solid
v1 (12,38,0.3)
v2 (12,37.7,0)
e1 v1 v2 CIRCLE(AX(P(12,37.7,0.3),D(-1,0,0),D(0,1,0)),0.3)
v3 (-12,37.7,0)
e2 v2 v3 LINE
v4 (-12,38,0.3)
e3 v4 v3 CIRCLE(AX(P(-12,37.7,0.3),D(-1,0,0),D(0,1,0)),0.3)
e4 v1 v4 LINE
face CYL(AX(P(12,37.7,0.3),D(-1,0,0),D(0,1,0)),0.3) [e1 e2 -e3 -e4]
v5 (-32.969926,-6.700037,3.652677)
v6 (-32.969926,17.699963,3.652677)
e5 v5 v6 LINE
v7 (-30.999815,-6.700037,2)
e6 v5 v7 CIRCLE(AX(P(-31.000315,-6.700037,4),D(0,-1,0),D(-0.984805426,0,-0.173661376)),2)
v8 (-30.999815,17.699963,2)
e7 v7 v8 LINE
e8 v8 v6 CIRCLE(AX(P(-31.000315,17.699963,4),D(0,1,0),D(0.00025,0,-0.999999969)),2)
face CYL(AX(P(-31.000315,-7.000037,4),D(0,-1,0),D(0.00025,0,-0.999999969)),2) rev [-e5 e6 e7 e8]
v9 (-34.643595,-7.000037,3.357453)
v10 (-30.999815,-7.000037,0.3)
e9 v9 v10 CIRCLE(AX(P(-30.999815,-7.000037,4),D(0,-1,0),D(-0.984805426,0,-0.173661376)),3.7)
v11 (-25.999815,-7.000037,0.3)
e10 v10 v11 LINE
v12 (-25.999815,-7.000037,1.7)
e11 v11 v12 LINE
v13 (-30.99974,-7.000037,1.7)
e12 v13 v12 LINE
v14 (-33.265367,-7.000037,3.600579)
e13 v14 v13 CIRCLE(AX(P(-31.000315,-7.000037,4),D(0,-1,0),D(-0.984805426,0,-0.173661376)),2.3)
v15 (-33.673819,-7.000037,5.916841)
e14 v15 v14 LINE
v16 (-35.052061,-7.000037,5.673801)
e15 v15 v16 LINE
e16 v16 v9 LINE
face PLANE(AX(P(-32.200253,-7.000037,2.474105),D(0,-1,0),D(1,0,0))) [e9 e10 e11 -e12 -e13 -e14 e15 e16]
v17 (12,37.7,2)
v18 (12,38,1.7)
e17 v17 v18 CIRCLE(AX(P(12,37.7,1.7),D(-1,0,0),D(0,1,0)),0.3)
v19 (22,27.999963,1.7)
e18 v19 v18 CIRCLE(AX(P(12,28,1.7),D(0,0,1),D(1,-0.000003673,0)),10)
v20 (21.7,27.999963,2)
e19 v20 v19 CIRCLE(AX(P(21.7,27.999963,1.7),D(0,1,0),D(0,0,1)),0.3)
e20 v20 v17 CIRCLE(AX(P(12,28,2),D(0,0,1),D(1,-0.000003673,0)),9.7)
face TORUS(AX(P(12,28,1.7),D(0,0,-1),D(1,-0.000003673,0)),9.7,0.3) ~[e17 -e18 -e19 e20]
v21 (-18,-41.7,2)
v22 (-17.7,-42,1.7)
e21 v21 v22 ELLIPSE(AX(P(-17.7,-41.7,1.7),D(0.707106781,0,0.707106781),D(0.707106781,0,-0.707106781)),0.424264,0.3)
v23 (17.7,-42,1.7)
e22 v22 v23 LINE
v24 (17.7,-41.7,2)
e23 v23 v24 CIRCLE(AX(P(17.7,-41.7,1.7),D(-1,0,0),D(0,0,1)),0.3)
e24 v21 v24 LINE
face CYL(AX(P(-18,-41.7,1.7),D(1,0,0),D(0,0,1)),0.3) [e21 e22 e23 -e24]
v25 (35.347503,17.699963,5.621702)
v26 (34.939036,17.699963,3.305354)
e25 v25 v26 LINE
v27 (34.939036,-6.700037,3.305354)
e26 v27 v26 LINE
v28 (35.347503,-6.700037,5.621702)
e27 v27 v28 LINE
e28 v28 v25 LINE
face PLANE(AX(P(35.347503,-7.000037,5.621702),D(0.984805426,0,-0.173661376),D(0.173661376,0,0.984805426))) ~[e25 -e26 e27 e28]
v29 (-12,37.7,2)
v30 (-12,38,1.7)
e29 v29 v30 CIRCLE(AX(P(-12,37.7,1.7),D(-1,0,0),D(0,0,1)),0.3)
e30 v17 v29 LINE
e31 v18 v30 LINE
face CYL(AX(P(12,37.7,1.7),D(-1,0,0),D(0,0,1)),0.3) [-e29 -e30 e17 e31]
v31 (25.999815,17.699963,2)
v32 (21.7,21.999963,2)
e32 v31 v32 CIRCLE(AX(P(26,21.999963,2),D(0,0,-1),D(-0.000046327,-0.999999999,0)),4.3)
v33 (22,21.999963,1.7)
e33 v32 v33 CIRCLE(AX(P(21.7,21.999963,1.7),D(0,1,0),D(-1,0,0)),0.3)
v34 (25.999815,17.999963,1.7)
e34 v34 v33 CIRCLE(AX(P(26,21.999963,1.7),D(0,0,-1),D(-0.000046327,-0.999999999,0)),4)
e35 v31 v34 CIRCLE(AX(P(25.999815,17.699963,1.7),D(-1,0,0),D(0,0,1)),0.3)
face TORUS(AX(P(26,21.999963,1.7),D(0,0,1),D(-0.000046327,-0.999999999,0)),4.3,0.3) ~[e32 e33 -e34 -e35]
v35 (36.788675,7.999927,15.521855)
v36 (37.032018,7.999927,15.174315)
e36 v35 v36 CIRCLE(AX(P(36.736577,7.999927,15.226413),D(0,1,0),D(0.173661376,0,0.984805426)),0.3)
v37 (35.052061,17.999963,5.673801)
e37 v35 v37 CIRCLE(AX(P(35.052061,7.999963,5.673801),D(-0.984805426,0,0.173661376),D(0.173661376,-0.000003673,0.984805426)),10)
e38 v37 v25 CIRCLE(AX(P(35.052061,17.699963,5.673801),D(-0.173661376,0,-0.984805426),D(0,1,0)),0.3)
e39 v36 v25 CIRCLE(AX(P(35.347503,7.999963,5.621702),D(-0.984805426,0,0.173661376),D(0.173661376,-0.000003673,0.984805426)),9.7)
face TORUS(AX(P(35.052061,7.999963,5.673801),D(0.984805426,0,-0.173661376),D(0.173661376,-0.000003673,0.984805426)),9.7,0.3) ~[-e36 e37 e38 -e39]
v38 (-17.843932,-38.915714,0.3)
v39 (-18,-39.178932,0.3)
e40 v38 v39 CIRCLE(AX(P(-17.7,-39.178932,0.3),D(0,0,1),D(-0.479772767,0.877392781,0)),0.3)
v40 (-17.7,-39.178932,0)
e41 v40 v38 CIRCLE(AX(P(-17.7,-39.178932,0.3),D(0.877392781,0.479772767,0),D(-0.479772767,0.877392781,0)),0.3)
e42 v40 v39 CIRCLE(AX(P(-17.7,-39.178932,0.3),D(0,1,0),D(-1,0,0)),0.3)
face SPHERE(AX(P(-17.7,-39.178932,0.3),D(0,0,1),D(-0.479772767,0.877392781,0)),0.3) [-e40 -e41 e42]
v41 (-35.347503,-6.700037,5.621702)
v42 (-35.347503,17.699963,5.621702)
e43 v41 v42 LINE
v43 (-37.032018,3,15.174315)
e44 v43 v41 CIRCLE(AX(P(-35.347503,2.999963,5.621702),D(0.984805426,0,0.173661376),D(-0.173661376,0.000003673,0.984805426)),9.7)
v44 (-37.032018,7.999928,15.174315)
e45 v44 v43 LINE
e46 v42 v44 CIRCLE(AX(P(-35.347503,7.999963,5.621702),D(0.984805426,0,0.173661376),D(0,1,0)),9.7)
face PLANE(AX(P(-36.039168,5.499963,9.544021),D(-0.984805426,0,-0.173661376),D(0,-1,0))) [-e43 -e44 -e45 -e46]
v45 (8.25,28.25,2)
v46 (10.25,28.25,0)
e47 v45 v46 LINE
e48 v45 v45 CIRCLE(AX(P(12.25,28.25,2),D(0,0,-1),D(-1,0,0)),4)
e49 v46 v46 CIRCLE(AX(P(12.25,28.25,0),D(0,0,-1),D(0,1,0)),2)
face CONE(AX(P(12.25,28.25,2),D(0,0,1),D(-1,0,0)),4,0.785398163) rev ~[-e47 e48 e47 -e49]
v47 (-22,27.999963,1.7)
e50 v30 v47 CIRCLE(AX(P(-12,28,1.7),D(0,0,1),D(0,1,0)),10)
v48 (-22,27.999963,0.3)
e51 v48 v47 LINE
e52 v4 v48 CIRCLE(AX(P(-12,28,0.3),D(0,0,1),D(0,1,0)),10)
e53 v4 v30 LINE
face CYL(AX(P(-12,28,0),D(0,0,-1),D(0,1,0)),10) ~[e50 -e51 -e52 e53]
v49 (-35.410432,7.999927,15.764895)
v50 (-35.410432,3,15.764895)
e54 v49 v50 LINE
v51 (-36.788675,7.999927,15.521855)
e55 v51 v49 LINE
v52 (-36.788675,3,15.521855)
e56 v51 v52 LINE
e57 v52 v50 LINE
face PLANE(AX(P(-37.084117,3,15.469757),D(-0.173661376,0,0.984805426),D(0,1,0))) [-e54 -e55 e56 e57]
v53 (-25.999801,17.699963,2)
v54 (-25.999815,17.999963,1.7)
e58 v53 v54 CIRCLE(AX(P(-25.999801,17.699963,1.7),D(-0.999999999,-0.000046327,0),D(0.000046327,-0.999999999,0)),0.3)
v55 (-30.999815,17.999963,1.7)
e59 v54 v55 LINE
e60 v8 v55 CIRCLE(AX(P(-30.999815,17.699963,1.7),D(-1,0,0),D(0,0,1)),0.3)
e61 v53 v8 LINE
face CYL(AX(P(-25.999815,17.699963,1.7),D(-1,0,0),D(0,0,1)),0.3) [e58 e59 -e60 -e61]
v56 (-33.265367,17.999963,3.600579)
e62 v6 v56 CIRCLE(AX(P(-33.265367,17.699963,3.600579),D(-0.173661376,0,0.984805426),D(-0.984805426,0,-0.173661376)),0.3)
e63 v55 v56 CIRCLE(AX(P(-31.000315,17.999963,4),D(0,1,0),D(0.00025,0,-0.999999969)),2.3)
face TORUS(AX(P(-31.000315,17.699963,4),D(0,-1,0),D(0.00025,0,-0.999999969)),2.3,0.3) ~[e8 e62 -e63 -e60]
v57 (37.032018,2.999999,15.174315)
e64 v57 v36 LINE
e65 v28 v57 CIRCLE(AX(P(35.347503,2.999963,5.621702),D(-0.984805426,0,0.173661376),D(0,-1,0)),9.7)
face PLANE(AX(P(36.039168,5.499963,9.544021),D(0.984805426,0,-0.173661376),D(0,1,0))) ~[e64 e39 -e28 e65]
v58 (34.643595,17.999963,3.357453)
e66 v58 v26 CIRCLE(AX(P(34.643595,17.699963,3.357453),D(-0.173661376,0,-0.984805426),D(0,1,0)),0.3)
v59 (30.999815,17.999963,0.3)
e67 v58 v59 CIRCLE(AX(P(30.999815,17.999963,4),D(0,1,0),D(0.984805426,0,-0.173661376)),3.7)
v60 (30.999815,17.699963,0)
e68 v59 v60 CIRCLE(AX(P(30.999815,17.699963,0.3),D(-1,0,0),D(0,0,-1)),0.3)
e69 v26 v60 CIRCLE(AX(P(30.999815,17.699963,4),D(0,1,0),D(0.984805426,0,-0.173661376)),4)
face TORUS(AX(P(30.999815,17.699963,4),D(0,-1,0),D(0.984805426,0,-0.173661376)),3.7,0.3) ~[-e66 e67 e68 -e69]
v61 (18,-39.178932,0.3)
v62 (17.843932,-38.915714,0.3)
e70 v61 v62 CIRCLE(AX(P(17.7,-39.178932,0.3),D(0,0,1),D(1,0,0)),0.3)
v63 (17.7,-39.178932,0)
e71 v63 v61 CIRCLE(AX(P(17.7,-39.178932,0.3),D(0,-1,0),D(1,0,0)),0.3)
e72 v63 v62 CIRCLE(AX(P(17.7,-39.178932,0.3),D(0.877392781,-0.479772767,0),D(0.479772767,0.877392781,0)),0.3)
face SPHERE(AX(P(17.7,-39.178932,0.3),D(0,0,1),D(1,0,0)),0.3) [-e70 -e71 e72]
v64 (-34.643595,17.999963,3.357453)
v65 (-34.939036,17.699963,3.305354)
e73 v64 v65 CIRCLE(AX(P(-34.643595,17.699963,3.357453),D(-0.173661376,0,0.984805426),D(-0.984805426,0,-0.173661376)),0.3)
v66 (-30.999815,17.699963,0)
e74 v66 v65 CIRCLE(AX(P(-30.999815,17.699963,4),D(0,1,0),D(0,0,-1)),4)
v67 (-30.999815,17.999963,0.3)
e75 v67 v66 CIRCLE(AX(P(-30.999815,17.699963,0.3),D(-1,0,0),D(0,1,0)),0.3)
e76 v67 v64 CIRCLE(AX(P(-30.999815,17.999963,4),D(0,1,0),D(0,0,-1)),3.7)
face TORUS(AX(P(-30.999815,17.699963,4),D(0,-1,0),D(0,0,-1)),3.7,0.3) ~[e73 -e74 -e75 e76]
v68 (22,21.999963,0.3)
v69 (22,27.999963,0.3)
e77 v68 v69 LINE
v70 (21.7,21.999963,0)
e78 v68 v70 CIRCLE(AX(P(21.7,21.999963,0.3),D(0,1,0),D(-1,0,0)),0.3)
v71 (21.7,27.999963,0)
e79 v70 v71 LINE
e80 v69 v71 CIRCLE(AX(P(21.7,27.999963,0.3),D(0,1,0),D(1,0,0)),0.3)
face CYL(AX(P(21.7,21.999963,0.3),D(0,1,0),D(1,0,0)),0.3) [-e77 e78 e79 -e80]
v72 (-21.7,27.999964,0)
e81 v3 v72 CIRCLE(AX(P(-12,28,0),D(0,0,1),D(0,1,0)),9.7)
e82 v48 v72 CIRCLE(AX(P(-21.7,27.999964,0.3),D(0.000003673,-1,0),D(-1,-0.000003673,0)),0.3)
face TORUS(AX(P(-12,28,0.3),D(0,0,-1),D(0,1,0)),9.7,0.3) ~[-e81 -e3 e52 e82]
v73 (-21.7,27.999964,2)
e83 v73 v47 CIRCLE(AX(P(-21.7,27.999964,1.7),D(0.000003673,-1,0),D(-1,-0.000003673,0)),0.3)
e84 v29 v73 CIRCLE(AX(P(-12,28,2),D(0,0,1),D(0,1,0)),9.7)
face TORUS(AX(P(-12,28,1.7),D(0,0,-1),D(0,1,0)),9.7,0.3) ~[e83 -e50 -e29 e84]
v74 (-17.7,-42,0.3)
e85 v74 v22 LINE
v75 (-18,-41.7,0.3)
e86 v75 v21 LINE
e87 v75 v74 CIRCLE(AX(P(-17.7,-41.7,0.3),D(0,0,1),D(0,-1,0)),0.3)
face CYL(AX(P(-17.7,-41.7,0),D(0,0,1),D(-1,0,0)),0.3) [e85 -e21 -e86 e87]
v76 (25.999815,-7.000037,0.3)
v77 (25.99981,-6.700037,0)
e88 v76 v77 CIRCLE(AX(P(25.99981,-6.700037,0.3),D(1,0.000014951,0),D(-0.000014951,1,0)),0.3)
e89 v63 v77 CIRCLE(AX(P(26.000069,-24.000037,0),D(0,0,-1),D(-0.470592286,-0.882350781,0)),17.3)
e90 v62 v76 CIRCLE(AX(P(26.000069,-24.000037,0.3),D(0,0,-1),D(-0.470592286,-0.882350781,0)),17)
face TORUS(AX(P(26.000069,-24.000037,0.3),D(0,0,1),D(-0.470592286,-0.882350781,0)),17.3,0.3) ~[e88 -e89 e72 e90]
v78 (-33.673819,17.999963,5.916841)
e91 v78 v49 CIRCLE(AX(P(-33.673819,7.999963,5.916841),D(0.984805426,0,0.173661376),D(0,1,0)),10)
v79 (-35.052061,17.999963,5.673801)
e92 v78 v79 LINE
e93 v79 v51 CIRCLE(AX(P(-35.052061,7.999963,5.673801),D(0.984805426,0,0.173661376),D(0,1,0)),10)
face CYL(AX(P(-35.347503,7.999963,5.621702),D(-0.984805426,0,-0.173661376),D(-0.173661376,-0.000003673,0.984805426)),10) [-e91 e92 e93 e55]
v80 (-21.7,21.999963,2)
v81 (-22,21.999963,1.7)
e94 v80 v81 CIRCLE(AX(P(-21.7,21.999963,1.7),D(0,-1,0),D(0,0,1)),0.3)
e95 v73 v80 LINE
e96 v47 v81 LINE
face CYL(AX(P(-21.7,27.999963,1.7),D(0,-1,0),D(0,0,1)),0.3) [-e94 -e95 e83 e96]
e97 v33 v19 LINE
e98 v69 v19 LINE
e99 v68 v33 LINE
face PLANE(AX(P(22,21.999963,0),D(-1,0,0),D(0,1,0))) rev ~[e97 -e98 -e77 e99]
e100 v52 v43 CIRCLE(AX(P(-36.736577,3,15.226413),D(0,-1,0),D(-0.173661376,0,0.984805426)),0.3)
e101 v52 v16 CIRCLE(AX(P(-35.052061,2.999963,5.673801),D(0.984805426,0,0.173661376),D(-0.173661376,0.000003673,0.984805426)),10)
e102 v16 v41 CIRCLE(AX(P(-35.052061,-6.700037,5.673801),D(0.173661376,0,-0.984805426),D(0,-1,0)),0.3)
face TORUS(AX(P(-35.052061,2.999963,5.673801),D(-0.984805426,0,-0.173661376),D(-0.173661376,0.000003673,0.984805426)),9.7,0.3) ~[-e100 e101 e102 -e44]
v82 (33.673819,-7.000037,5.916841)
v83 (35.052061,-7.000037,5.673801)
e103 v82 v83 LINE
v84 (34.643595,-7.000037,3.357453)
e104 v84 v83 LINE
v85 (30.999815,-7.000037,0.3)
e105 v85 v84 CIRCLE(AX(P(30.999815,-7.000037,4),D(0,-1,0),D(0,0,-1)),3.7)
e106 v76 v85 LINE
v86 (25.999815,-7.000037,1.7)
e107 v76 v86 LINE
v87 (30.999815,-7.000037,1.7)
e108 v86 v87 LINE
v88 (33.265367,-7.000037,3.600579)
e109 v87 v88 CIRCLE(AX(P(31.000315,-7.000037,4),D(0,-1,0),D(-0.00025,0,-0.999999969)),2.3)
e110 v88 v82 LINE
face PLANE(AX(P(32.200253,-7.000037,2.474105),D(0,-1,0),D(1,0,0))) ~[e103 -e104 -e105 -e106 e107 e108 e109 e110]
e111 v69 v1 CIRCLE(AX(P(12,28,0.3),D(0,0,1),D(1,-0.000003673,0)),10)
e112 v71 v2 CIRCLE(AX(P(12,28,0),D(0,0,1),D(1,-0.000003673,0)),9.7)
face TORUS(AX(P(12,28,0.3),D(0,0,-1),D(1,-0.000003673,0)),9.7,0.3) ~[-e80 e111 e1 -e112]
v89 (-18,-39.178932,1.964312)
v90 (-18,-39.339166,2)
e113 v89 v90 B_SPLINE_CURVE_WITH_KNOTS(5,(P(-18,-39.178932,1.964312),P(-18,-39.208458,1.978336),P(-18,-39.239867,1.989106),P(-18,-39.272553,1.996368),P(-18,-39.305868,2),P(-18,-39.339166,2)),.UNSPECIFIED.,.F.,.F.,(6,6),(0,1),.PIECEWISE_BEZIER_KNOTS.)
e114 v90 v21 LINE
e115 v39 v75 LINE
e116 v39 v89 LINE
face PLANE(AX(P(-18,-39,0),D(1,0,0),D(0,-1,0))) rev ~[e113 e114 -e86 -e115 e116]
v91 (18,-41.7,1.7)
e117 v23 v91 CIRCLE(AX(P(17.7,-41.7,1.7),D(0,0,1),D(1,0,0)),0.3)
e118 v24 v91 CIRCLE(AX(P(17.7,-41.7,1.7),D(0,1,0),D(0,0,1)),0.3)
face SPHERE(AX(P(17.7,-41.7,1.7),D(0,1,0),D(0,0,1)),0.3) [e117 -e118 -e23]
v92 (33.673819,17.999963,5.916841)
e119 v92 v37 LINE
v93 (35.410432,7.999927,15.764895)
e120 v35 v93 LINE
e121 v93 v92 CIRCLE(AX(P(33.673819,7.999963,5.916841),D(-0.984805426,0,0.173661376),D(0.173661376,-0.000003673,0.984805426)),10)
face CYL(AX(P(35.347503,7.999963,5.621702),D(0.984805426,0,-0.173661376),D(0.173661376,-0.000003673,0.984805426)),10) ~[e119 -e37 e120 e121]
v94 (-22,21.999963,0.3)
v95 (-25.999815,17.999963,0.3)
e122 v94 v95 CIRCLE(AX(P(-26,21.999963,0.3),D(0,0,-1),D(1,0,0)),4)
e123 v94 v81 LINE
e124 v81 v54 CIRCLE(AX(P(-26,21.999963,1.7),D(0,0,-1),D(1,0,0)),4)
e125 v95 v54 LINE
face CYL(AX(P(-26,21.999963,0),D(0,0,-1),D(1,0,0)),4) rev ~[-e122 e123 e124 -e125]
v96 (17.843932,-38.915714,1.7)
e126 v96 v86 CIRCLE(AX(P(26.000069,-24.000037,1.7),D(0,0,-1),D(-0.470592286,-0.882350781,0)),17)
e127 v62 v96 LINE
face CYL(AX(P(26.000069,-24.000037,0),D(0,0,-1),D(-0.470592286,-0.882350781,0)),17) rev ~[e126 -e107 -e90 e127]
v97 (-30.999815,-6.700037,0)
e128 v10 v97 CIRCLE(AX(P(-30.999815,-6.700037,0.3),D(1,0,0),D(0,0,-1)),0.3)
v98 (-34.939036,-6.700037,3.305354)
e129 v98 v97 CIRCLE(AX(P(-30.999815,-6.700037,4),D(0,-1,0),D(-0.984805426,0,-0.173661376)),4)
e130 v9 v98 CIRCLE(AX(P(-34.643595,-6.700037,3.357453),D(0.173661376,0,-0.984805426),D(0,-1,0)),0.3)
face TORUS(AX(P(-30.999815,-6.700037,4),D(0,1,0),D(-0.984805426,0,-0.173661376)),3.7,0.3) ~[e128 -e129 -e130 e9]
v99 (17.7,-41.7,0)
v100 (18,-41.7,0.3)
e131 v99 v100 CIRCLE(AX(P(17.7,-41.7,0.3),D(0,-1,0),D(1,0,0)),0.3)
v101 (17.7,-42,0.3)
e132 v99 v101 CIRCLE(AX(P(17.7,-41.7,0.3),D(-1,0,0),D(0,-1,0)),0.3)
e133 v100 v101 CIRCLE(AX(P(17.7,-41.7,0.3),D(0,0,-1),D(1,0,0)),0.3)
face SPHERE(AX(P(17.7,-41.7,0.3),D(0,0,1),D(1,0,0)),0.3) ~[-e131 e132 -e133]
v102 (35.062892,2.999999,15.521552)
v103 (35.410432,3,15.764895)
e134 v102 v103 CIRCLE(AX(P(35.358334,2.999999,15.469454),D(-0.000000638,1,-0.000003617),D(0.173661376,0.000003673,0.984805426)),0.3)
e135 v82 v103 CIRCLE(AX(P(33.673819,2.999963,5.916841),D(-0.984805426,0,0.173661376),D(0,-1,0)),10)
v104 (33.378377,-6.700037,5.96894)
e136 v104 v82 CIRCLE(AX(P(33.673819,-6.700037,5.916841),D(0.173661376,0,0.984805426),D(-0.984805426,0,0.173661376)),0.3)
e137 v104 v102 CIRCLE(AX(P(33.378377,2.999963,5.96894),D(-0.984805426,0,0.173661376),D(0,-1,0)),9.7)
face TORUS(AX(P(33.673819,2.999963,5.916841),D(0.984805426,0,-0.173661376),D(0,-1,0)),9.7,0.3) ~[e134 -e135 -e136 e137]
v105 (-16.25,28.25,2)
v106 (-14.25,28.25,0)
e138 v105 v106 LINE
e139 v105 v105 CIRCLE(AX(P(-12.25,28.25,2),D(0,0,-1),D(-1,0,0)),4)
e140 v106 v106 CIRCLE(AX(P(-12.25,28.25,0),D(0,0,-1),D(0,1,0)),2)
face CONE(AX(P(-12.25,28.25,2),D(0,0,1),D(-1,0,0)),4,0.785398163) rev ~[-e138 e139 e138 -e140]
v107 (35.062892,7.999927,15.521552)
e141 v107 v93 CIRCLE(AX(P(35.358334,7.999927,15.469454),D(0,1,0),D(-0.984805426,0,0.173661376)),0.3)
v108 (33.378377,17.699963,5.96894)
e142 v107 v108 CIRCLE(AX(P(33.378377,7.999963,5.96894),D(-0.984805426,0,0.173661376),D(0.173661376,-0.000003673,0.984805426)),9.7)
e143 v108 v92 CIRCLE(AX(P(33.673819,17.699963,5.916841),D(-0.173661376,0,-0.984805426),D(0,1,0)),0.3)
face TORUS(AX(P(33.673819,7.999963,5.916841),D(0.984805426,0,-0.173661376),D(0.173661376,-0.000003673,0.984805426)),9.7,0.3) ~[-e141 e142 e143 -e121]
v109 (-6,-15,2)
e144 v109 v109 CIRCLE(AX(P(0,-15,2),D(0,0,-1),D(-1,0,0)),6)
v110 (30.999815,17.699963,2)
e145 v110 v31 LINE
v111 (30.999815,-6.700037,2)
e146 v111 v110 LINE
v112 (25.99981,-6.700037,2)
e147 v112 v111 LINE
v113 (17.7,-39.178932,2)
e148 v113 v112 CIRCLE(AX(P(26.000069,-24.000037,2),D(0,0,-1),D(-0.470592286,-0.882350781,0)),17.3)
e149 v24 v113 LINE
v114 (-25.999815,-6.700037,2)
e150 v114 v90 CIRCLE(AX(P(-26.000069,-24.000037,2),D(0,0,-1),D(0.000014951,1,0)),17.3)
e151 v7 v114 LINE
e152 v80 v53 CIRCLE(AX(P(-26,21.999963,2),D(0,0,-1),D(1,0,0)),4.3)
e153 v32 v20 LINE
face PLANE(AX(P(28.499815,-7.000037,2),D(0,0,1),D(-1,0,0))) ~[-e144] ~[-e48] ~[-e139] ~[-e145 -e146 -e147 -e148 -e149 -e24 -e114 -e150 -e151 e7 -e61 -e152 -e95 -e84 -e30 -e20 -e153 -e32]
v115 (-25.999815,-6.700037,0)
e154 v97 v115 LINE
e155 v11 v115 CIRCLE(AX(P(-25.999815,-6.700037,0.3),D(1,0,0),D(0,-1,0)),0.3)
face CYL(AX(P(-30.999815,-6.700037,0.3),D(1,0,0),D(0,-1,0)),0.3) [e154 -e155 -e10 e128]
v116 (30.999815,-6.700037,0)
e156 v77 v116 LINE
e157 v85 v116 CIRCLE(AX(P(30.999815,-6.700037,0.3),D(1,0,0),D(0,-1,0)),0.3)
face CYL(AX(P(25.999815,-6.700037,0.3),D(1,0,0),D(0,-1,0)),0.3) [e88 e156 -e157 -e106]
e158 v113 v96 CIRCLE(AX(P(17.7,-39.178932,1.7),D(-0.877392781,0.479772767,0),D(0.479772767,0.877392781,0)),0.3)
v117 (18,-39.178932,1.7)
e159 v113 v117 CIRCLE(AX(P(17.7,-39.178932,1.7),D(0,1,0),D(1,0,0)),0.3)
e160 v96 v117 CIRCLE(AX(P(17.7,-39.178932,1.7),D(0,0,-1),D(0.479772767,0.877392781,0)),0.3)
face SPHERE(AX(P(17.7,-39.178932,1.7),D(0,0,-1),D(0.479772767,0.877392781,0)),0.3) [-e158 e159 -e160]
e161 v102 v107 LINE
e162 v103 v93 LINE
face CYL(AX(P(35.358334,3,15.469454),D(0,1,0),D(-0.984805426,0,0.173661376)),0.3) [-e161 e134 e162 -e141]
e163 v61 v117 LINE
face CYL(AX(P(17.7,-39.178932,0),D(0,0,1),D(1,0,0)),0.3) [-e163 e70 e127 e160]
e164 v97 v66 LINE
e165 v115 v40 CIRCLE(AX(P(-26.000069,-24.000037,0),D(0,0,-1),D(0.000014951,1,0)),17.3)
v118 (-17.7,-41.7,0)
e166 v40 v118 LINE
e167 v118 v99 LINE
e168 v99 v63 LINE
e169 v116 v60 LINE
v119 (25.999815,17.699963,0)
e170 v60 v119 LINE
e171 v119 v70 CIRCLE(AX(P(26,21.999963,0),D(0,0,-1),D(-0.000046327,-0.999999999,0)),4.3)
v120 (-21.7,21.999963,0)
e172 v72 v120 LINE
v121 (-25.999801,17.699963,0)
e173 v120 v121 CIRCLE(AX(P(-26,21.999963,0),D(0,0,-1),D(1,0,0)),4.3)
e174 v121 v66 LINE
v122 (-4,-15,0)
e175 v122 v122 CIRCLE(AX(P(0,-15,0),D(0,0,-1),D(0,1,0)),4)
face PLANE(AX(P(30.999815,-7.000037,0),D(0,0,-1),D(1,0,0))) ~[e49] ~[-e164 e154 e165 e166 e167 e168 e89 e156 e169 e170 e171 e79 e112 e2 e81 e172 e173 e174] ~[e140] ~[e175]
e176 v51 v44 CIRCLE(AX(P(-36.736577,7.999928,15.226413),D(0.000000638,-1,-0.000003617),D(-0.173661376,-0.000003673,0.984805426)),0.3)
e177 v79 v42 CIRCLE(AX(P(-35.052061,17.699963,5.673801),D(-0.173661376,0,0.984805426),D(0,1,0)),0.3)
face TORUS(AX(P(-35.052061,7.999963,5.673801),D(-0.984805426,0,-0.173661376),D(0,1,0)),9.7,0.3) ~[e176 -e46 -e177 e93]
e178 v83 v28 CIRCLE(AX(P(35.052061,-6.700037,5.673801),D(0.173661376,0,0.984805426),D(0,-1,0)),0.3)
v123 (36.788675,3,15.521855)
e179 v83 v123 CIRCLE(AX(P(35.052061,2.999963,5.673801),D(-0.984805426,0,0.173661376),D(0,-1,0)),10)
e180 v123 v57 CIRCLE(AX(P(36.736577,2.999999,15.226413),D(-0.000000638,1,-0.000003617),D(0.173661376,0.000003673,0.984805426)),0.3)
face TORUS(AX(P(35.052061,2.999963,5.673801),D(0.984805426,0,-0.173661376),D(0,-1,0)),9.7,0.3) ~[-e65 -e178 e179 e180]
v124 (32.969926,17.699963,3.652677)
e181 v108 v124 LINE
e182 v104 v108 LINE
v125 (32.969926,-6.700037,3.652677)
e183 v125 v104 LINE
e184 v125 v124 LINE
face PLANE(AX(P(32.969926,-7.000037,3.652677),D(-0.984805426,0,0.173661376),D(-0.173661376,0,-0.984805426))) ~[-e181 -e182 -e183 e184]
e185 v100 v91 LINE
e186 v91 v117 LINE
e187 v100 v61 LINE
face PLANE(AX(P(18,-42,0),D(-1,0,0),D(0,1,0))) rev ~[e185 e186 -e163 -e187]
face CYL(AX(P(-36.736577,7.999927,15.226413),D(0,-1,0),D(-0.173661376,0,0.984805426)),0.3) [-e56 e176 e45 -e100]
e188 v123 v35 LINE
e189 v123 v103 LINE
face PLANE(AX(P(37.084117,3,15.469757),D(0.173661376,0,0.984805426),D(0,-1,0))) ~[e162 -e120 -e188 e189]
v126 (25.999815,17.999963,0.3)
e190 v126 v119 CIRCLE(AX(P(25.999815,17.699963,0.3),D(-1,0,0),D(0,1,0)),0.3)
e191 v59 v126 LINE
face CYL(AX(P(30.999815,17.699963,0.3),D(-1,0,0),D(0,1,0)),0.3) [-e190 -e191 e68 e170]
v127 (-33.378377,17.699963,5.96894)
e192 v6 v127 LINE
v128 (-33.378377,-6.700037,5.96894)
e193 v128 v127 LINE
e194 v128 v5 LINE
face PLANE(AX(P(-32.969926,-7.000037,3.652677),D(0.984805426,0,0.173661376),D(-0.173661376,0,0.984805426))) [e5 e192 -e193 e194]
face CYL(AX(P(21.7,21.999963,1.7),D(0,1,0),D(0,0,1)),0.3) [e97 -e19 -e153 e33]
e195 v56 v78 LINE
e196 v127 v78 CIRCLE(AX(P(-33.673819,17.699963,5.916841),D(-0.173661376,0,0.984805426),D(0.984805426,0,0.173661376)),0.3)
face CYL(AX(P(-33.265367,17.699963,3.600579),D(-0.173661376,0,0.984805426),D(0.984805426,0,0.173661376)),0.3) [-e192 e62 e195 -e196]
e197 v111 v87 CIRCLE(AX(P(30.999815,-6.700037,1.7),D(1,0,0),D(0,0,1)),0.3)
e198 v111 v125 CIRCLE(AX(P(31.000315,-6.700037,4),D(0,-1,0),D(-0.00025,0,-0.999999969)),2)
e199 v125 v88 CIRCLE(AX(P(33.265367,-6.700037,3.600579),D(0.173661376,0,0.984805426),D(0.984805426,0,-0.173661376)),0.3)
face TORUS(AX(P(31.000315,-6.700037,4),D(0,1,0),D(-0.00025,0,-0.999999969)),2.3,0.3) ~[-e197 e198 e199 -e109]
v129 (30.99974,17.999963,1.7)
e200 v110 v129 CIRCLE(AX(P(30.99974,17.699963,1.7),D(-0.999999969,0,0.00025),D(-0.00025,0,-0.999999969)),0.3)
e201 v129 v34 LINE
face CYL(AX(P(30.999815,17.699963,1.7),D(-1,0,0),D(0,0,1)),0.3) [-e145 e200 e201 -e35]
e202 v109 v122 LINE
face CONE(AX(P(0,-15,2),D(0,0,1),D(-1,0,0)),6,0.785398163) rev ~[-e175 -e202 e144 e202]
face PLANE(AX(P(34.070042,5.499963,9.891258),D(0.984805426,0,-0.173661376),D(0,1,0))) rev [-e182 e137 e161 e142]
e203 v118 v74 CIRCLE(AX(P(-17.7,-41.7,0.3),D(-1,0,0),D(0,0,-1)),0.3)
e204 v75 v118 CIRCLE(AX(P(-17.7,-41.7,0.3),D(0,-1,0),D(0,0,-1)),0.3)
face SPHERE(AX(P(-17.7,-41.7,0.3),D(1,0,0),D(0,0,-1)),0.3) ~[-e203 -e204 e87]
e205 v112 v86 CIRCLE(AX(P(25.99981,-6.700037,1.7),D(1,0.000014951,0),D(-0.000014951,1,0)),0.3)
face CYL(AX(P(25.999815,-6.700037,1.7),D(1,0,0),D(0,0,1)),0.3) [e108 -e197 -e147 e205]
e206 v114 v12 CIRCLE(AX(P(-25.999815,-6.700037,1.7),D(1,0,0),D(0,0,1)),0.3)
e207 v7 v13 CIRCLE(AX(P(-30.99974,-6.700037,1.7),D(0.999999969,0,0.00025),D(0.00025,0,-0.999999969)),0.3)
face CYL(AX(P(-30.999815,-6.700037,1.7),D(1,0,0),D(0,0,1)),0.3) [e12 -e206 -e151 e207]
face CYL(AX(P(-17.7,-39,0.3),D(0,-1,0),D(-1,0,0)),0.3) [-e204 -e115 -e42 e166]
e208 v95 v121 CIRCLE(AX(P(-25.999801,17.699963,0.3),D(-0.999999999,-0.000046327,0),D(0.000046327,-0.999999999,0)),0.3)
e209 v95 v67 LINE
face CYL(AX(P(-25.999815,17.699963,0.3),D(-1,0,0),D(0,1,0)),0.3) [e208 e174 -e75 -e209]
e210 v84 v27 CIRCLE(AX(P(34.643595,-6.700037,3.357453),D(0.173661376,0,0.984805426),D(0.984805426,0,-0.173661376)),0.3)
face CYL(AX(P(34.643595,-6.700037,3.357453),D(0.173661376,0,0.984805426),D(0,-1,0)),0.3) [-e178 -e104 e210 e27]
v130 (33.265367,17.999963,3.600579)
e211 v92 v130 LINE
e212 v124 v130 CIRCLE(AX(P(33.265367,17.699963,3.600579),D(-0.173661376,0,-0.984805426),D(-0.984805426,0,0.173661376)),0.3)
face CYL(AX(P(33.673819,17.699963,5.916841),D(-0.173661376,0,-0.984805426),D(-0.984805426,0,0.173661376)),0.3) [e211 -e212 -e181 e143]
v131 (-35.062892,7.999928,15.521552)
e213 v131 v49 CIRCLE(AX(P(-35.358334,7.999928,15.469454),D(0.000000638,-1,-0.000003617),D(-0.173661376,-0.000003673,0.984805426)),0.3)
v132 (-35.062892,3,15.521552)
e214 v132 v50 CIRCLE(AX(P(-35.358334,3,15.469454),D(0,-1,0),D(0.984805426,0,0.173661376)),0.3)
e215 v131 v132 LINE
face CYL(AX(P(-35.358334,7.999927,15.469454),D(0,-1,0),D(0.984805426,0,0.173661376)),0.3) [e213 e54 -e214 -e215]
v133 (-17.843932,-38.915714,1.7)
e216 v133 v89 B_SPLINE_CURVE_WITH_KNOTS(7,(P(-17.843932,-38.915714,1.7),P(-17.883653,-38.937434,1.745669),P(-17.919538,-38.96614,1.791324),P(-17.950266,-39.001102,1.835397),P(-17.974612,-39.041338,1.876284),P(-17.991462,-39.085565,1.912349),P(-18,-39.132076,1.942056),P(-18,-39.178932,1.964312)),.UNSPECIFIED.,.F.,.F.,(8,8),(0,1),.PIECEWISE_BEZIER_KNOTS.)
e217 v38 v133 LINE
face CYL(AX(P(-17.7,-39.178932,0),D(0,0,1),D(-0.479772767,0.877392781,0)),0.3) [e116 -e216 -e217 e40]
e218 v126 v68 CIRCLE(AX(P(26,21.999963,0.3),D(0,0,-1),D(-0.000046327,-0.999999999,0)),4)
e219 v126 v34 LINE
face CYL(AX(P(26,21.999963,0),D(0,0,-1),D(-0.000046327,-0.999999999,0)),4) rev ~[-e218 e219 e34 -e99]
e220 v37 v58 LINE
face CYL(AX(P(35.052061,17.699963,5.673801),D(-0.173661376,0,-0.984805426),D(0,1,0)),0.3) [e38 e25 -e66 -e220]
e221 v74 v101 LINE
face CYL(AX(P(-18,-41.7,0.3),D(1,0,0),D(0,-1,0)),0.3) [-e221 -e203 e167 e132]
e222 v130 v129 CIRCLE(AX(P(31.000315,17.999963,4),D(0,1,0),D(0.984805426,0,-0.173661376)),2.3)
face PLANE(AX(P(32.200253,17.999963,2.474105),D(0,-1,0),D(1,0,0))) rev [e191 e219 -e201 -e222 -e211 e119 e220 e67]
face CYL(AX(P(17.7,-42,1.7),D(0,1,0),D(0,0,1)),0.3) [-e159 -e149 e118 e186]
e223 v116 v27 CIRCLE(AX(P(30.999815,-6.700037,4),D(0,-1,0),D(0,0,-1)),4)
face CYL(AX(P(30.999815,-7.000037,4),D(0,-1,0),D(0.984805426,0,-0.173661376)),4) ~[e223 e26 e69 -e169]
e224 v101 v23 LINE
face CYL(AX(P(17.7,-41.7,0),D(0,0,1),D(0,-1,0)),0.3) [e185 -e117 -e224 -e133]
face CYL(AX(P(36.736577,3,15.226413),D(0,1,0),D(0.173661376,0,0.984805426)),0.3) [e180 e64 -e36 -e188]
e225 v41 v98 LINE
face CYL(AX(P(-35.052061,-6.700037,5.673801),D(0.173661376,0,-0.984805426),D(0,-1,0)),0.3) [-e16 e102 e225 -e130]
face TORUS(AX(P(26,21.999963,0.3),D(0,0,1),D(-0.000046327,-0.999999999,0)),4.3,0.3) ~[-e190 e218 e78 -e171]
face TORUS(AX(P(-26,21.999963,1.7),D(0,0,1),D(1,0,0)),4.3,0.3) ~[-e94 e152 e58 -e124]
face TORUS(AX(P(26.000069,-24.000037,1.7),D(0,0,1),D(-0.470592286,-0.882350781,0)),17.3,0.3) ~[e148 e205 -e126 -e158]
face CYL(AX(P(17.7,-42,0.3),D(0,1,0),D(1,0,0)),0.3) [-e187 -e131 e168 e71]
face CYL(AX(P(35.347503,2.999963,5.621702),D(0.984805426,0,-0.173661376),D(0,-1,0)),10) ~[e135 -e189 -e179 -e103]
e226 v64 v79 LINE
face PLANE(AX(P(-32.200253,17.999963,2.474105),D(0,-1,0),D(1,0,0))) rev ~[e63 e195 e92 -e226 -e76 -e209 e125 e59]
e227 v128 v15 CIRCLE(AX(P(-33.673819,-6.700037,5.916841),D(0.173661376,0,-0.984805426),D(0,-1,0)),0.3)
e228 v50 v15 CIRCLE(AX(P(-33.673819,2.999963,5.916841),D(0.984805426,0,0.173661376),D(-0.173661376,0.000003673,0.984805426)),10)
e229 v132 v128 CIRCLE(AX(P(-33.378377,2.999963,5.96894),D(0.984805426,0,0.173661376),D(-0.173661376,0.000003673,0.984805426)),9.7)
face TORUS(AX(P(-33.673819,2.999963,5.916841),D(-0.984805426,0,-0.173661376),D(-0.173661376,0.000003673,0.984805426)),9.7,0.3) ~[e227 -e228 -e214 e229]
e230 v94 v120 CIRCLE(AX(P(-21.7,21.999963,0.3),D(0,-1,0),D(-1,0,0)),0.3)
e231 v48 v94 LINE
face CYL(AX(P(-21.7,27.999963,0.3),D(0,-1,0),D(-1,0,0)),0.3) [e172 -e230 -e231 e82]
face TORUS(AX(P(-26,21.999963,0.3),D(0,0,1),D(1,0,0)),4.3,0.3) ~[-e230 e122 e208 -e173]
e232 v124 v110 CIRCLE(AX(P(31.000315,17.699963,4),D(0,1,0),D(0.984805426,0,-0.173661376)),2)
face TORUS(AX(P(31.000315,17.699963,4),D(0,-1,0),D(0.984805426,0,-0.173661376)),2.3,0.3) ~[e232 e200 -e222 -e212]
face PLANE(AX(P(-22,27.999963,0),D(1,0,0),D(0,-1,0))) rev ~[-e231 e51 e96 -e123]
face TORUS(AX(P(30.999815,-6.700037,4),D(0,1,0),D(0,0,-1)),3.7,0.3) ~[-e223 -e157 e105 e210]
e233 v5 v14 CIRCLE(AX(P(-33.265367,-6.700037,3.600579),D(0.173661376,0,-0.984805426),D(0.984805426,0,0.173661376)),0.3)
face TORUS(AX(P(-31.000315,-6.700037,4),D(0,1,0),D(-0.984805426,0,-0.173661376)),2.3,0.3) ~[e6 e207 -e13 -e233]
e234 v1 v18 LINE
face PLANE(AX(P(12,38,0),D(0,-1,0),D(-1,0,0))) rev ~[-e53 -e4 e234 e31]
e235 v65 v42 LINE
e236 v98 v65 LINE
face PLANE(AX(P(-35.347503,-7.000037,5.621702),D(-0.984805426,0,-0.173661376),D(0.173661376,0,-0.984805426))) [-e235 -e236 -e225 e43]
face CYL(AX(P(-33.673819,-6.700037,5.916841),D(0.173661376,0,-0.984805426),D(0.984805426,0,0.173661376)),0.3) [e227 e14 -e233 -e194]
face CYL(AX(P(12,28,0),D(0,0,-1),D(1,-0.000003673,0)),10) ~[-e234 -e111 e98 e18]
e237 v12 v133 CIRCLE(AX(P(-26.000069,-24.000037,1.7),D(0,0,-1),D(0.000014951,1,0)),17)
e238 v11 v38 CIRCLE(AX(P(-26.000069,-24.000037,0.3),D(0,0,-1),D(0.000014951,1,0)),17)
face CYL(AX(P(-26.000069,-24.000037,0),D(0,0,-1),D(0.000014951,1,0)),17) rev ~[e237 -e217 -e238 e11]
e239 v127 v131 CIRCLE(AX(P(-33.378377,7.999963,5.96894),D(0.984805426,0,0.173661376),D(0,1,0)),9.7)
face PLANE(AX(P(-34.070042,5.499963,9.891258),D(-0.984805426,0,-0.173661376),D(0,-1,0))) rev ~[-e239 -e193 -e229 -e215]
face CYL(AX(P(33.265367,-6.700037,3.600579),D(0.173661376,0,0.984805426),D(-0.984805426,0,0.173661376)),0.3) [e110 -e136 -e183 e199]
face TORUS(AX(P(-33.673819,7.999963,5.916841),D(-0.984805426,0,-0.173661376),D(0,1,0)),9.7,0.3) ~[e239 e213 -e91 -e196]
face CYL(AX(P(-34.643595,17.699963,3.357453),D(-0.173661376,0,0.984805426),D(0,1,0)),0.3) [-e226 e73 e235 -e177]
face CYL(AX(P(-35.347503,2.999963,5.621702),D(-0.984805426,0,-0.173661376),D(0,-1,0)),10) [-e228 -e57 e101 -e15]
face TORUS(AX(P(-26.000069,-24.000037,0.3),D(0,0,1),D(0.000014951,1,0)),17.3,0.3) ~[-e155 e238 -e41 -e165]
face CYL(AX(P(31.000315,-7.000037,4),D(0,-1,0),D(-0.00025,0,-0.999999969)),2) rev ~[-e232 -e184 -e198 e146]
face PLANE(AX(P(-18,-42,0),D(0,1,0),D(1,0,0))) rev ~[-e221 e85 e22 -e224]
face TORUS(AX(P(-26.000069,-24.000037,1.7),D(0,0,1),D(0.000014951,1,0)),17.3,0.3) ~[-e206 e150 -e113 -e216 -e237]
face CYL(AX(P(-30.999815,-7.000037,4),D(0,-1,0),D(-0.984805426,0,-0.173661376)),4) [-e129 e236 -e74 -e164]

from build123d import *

# Parameters (mm, degrees)
F1_DEPTH       = 2
F3_DEPTH       = 25
F5_DEPTH       = 1.9995075864
F8_D           = 4
F8_CSINK_D     = 8
F8_CSINK_ANGLE = 90
F9_D           = 8
F9_CSINK_D     = 12
F9_CSINK_ANGLE = 90
F10_R          = 0.3


with BuildPart() as f1:
    # F0 (on Top) → F1 (new body)
    with BuildSketch(Plane.XY):
        with BuildLine():
            Line((12, 38), (0, 38))
            Line((0, 38), (-12, 38))
            ThreePointArc((-12, 38), (-19.0710807986, 35.0710548251), (-22, 27.9999632679))
            Line((-22, 27.9999632679), (-22, 21.9999632679))
            ThreePointArc((-22, 21.9999632679), (-23.17150736, 19.1716016599), (-25.9998146928, 17.9999632722))
            Line((-25.9998146928, 17.9999632722), (-28.4998146928, 17.9999632722))
            Line((-28.4998146928, 17.9999632722), (-28.4998146928, -7.0000367278))
            Line((-28.4998146928, -7.0000367278), (-25.9998146928, -7.0000367278))
            ThreePointArc((-25.9998146928, -7.0000367278), (-9.507625, -19.8770165338), (-18, -39))
            Line((-18, -39), (-18, -42))
            Line((-18, -42), (0, -42))
            Line((0, -42), (18, -42))
            Line((18, -42), (18, -39))
            ThreePointArc((18, -39), (9.507625, -19.8770165338), (25.9998146928, -7.0000367278))
            Line((25.9998146928, -7.0000367278), (28.4998146928, -7.0000367278))
            Line((28.4998146928, -7.0000367278), (28.4998146928, 17.9999632722))
            Line((28.4998146928, 17.9999632722), (25.9998146928, 17.9999632722))
            ThreePointArc((25.9998146928, 17.9999632722), (23.17150736, 19.1716016599), (22, 21.9999632679))
            Line((22, 21.9999632679), (22, 27.9999632679))
            ThreePointArc((22, 27.9999632679), (19.0710807986, 35.0710548251), (12, 38))
        make_face()
    extrude(amount=F1_DEPTH)

    # F2 (on face) → F3 (join, through all)
    with BuildSketch(Plane.XZ.offset(7.0000367278)):
        with BuildLine():
            Line((-30.9998146928, 0), (-28.4998146928, 0))
            Line((-28.4998146928, 0), (-28.4998146928, 2))
            Line((-28.4998146928, 2), (-30.9998146928, 2))
            ThreePointArc((-30.9998146928, 2), (-32.2856881236, 2.4677417533), (-32.9699255443, 3.6526771862))
            Line((-32.9699255443, 3.6526771862), (-33.3783770998, 5.9689395476))
            Line((-33.3783770998, 5.9689395476), (-35.3475030198, 5.6217023095))
            Line((-35.3475030198, 5.6217023095), (-34.9390363958, 3.3053544974))
            ThreePointArc((-34.9390363958, 3.3053544974), (-33.570944599, 0.9358049988), (-30.9998146928, 0))
        make_face()
    extrude(amount=-F3_DEPTH)

    # F4 (on face) → F5 (join, through all)
    with BuildSketch(Plane(origin=(-33.3200448493, 0, -5.8756833317), x_dir=(0, -1, 0), z_dir=(-0.9848054258, 0, -0.1736613756))):
        with BuildLine():
            Line((-3.0000000043, 21.6747789364), (-7.9999265402, 21.6747789364))
            ThreePointArc((-7.9999265402, 21.6747789364), (-15.0710180974, 18.7458597351), (-17.9999632722, 11.6747789365))
            Line((-17.9999632722, 11.6747789365), (7.0000367278, 11.6747789365))
            ThreePointArc((7.0000367278, 11.6747789365), (4.0710915529, 18.7458597351), (-3.0000000043, 21.6747789364))
        make_face()
    extrude(amount=-F5_DEPTH)

    # F6: F1 across plane


with BuildPart() as f1_1:
    add(f1.part)
    add(f1.part.mirror(Plane.YZ))

    # F8 (through all)
    with Locations(Plane.XY.offset(2)):
        with Locations((12.25, 28.25), (-12.25, 28.25)):
            CounterSinkHole(F8_D / 2, F8_CSINK_D / 2, counter_sink_angle=F8_CSINK_ANGLE)

    # F9 (through all)
    with Locations(Plane.XY.offset(2)):
        with Locations((0, -15)):
            CounterSinkHole(F9_D / 2, F9_CSINK_D / 2, counter_sink_angle=F9_CSINK_ANGLE)

    # F10
    f10_edges = [f1_1.edges().sort_by_distance(p)[0] for p in [
        (9.507625, -19.877017, 2),
        (18, -40.5, 2),
        (0, -42, 2),
        (18, -42, 1),
        (18, -40.5, 0),
        (9.507625, -19.877017, 0),
        (0, -42, 0),
        (-18, -40.5, 0),
        (-18, -39, 1),
        (-18, -42, 1),
        (18, -39, 1),
    ]]
    fillet(f10_edges, radius=F10_R)


solid = f1_1.part
